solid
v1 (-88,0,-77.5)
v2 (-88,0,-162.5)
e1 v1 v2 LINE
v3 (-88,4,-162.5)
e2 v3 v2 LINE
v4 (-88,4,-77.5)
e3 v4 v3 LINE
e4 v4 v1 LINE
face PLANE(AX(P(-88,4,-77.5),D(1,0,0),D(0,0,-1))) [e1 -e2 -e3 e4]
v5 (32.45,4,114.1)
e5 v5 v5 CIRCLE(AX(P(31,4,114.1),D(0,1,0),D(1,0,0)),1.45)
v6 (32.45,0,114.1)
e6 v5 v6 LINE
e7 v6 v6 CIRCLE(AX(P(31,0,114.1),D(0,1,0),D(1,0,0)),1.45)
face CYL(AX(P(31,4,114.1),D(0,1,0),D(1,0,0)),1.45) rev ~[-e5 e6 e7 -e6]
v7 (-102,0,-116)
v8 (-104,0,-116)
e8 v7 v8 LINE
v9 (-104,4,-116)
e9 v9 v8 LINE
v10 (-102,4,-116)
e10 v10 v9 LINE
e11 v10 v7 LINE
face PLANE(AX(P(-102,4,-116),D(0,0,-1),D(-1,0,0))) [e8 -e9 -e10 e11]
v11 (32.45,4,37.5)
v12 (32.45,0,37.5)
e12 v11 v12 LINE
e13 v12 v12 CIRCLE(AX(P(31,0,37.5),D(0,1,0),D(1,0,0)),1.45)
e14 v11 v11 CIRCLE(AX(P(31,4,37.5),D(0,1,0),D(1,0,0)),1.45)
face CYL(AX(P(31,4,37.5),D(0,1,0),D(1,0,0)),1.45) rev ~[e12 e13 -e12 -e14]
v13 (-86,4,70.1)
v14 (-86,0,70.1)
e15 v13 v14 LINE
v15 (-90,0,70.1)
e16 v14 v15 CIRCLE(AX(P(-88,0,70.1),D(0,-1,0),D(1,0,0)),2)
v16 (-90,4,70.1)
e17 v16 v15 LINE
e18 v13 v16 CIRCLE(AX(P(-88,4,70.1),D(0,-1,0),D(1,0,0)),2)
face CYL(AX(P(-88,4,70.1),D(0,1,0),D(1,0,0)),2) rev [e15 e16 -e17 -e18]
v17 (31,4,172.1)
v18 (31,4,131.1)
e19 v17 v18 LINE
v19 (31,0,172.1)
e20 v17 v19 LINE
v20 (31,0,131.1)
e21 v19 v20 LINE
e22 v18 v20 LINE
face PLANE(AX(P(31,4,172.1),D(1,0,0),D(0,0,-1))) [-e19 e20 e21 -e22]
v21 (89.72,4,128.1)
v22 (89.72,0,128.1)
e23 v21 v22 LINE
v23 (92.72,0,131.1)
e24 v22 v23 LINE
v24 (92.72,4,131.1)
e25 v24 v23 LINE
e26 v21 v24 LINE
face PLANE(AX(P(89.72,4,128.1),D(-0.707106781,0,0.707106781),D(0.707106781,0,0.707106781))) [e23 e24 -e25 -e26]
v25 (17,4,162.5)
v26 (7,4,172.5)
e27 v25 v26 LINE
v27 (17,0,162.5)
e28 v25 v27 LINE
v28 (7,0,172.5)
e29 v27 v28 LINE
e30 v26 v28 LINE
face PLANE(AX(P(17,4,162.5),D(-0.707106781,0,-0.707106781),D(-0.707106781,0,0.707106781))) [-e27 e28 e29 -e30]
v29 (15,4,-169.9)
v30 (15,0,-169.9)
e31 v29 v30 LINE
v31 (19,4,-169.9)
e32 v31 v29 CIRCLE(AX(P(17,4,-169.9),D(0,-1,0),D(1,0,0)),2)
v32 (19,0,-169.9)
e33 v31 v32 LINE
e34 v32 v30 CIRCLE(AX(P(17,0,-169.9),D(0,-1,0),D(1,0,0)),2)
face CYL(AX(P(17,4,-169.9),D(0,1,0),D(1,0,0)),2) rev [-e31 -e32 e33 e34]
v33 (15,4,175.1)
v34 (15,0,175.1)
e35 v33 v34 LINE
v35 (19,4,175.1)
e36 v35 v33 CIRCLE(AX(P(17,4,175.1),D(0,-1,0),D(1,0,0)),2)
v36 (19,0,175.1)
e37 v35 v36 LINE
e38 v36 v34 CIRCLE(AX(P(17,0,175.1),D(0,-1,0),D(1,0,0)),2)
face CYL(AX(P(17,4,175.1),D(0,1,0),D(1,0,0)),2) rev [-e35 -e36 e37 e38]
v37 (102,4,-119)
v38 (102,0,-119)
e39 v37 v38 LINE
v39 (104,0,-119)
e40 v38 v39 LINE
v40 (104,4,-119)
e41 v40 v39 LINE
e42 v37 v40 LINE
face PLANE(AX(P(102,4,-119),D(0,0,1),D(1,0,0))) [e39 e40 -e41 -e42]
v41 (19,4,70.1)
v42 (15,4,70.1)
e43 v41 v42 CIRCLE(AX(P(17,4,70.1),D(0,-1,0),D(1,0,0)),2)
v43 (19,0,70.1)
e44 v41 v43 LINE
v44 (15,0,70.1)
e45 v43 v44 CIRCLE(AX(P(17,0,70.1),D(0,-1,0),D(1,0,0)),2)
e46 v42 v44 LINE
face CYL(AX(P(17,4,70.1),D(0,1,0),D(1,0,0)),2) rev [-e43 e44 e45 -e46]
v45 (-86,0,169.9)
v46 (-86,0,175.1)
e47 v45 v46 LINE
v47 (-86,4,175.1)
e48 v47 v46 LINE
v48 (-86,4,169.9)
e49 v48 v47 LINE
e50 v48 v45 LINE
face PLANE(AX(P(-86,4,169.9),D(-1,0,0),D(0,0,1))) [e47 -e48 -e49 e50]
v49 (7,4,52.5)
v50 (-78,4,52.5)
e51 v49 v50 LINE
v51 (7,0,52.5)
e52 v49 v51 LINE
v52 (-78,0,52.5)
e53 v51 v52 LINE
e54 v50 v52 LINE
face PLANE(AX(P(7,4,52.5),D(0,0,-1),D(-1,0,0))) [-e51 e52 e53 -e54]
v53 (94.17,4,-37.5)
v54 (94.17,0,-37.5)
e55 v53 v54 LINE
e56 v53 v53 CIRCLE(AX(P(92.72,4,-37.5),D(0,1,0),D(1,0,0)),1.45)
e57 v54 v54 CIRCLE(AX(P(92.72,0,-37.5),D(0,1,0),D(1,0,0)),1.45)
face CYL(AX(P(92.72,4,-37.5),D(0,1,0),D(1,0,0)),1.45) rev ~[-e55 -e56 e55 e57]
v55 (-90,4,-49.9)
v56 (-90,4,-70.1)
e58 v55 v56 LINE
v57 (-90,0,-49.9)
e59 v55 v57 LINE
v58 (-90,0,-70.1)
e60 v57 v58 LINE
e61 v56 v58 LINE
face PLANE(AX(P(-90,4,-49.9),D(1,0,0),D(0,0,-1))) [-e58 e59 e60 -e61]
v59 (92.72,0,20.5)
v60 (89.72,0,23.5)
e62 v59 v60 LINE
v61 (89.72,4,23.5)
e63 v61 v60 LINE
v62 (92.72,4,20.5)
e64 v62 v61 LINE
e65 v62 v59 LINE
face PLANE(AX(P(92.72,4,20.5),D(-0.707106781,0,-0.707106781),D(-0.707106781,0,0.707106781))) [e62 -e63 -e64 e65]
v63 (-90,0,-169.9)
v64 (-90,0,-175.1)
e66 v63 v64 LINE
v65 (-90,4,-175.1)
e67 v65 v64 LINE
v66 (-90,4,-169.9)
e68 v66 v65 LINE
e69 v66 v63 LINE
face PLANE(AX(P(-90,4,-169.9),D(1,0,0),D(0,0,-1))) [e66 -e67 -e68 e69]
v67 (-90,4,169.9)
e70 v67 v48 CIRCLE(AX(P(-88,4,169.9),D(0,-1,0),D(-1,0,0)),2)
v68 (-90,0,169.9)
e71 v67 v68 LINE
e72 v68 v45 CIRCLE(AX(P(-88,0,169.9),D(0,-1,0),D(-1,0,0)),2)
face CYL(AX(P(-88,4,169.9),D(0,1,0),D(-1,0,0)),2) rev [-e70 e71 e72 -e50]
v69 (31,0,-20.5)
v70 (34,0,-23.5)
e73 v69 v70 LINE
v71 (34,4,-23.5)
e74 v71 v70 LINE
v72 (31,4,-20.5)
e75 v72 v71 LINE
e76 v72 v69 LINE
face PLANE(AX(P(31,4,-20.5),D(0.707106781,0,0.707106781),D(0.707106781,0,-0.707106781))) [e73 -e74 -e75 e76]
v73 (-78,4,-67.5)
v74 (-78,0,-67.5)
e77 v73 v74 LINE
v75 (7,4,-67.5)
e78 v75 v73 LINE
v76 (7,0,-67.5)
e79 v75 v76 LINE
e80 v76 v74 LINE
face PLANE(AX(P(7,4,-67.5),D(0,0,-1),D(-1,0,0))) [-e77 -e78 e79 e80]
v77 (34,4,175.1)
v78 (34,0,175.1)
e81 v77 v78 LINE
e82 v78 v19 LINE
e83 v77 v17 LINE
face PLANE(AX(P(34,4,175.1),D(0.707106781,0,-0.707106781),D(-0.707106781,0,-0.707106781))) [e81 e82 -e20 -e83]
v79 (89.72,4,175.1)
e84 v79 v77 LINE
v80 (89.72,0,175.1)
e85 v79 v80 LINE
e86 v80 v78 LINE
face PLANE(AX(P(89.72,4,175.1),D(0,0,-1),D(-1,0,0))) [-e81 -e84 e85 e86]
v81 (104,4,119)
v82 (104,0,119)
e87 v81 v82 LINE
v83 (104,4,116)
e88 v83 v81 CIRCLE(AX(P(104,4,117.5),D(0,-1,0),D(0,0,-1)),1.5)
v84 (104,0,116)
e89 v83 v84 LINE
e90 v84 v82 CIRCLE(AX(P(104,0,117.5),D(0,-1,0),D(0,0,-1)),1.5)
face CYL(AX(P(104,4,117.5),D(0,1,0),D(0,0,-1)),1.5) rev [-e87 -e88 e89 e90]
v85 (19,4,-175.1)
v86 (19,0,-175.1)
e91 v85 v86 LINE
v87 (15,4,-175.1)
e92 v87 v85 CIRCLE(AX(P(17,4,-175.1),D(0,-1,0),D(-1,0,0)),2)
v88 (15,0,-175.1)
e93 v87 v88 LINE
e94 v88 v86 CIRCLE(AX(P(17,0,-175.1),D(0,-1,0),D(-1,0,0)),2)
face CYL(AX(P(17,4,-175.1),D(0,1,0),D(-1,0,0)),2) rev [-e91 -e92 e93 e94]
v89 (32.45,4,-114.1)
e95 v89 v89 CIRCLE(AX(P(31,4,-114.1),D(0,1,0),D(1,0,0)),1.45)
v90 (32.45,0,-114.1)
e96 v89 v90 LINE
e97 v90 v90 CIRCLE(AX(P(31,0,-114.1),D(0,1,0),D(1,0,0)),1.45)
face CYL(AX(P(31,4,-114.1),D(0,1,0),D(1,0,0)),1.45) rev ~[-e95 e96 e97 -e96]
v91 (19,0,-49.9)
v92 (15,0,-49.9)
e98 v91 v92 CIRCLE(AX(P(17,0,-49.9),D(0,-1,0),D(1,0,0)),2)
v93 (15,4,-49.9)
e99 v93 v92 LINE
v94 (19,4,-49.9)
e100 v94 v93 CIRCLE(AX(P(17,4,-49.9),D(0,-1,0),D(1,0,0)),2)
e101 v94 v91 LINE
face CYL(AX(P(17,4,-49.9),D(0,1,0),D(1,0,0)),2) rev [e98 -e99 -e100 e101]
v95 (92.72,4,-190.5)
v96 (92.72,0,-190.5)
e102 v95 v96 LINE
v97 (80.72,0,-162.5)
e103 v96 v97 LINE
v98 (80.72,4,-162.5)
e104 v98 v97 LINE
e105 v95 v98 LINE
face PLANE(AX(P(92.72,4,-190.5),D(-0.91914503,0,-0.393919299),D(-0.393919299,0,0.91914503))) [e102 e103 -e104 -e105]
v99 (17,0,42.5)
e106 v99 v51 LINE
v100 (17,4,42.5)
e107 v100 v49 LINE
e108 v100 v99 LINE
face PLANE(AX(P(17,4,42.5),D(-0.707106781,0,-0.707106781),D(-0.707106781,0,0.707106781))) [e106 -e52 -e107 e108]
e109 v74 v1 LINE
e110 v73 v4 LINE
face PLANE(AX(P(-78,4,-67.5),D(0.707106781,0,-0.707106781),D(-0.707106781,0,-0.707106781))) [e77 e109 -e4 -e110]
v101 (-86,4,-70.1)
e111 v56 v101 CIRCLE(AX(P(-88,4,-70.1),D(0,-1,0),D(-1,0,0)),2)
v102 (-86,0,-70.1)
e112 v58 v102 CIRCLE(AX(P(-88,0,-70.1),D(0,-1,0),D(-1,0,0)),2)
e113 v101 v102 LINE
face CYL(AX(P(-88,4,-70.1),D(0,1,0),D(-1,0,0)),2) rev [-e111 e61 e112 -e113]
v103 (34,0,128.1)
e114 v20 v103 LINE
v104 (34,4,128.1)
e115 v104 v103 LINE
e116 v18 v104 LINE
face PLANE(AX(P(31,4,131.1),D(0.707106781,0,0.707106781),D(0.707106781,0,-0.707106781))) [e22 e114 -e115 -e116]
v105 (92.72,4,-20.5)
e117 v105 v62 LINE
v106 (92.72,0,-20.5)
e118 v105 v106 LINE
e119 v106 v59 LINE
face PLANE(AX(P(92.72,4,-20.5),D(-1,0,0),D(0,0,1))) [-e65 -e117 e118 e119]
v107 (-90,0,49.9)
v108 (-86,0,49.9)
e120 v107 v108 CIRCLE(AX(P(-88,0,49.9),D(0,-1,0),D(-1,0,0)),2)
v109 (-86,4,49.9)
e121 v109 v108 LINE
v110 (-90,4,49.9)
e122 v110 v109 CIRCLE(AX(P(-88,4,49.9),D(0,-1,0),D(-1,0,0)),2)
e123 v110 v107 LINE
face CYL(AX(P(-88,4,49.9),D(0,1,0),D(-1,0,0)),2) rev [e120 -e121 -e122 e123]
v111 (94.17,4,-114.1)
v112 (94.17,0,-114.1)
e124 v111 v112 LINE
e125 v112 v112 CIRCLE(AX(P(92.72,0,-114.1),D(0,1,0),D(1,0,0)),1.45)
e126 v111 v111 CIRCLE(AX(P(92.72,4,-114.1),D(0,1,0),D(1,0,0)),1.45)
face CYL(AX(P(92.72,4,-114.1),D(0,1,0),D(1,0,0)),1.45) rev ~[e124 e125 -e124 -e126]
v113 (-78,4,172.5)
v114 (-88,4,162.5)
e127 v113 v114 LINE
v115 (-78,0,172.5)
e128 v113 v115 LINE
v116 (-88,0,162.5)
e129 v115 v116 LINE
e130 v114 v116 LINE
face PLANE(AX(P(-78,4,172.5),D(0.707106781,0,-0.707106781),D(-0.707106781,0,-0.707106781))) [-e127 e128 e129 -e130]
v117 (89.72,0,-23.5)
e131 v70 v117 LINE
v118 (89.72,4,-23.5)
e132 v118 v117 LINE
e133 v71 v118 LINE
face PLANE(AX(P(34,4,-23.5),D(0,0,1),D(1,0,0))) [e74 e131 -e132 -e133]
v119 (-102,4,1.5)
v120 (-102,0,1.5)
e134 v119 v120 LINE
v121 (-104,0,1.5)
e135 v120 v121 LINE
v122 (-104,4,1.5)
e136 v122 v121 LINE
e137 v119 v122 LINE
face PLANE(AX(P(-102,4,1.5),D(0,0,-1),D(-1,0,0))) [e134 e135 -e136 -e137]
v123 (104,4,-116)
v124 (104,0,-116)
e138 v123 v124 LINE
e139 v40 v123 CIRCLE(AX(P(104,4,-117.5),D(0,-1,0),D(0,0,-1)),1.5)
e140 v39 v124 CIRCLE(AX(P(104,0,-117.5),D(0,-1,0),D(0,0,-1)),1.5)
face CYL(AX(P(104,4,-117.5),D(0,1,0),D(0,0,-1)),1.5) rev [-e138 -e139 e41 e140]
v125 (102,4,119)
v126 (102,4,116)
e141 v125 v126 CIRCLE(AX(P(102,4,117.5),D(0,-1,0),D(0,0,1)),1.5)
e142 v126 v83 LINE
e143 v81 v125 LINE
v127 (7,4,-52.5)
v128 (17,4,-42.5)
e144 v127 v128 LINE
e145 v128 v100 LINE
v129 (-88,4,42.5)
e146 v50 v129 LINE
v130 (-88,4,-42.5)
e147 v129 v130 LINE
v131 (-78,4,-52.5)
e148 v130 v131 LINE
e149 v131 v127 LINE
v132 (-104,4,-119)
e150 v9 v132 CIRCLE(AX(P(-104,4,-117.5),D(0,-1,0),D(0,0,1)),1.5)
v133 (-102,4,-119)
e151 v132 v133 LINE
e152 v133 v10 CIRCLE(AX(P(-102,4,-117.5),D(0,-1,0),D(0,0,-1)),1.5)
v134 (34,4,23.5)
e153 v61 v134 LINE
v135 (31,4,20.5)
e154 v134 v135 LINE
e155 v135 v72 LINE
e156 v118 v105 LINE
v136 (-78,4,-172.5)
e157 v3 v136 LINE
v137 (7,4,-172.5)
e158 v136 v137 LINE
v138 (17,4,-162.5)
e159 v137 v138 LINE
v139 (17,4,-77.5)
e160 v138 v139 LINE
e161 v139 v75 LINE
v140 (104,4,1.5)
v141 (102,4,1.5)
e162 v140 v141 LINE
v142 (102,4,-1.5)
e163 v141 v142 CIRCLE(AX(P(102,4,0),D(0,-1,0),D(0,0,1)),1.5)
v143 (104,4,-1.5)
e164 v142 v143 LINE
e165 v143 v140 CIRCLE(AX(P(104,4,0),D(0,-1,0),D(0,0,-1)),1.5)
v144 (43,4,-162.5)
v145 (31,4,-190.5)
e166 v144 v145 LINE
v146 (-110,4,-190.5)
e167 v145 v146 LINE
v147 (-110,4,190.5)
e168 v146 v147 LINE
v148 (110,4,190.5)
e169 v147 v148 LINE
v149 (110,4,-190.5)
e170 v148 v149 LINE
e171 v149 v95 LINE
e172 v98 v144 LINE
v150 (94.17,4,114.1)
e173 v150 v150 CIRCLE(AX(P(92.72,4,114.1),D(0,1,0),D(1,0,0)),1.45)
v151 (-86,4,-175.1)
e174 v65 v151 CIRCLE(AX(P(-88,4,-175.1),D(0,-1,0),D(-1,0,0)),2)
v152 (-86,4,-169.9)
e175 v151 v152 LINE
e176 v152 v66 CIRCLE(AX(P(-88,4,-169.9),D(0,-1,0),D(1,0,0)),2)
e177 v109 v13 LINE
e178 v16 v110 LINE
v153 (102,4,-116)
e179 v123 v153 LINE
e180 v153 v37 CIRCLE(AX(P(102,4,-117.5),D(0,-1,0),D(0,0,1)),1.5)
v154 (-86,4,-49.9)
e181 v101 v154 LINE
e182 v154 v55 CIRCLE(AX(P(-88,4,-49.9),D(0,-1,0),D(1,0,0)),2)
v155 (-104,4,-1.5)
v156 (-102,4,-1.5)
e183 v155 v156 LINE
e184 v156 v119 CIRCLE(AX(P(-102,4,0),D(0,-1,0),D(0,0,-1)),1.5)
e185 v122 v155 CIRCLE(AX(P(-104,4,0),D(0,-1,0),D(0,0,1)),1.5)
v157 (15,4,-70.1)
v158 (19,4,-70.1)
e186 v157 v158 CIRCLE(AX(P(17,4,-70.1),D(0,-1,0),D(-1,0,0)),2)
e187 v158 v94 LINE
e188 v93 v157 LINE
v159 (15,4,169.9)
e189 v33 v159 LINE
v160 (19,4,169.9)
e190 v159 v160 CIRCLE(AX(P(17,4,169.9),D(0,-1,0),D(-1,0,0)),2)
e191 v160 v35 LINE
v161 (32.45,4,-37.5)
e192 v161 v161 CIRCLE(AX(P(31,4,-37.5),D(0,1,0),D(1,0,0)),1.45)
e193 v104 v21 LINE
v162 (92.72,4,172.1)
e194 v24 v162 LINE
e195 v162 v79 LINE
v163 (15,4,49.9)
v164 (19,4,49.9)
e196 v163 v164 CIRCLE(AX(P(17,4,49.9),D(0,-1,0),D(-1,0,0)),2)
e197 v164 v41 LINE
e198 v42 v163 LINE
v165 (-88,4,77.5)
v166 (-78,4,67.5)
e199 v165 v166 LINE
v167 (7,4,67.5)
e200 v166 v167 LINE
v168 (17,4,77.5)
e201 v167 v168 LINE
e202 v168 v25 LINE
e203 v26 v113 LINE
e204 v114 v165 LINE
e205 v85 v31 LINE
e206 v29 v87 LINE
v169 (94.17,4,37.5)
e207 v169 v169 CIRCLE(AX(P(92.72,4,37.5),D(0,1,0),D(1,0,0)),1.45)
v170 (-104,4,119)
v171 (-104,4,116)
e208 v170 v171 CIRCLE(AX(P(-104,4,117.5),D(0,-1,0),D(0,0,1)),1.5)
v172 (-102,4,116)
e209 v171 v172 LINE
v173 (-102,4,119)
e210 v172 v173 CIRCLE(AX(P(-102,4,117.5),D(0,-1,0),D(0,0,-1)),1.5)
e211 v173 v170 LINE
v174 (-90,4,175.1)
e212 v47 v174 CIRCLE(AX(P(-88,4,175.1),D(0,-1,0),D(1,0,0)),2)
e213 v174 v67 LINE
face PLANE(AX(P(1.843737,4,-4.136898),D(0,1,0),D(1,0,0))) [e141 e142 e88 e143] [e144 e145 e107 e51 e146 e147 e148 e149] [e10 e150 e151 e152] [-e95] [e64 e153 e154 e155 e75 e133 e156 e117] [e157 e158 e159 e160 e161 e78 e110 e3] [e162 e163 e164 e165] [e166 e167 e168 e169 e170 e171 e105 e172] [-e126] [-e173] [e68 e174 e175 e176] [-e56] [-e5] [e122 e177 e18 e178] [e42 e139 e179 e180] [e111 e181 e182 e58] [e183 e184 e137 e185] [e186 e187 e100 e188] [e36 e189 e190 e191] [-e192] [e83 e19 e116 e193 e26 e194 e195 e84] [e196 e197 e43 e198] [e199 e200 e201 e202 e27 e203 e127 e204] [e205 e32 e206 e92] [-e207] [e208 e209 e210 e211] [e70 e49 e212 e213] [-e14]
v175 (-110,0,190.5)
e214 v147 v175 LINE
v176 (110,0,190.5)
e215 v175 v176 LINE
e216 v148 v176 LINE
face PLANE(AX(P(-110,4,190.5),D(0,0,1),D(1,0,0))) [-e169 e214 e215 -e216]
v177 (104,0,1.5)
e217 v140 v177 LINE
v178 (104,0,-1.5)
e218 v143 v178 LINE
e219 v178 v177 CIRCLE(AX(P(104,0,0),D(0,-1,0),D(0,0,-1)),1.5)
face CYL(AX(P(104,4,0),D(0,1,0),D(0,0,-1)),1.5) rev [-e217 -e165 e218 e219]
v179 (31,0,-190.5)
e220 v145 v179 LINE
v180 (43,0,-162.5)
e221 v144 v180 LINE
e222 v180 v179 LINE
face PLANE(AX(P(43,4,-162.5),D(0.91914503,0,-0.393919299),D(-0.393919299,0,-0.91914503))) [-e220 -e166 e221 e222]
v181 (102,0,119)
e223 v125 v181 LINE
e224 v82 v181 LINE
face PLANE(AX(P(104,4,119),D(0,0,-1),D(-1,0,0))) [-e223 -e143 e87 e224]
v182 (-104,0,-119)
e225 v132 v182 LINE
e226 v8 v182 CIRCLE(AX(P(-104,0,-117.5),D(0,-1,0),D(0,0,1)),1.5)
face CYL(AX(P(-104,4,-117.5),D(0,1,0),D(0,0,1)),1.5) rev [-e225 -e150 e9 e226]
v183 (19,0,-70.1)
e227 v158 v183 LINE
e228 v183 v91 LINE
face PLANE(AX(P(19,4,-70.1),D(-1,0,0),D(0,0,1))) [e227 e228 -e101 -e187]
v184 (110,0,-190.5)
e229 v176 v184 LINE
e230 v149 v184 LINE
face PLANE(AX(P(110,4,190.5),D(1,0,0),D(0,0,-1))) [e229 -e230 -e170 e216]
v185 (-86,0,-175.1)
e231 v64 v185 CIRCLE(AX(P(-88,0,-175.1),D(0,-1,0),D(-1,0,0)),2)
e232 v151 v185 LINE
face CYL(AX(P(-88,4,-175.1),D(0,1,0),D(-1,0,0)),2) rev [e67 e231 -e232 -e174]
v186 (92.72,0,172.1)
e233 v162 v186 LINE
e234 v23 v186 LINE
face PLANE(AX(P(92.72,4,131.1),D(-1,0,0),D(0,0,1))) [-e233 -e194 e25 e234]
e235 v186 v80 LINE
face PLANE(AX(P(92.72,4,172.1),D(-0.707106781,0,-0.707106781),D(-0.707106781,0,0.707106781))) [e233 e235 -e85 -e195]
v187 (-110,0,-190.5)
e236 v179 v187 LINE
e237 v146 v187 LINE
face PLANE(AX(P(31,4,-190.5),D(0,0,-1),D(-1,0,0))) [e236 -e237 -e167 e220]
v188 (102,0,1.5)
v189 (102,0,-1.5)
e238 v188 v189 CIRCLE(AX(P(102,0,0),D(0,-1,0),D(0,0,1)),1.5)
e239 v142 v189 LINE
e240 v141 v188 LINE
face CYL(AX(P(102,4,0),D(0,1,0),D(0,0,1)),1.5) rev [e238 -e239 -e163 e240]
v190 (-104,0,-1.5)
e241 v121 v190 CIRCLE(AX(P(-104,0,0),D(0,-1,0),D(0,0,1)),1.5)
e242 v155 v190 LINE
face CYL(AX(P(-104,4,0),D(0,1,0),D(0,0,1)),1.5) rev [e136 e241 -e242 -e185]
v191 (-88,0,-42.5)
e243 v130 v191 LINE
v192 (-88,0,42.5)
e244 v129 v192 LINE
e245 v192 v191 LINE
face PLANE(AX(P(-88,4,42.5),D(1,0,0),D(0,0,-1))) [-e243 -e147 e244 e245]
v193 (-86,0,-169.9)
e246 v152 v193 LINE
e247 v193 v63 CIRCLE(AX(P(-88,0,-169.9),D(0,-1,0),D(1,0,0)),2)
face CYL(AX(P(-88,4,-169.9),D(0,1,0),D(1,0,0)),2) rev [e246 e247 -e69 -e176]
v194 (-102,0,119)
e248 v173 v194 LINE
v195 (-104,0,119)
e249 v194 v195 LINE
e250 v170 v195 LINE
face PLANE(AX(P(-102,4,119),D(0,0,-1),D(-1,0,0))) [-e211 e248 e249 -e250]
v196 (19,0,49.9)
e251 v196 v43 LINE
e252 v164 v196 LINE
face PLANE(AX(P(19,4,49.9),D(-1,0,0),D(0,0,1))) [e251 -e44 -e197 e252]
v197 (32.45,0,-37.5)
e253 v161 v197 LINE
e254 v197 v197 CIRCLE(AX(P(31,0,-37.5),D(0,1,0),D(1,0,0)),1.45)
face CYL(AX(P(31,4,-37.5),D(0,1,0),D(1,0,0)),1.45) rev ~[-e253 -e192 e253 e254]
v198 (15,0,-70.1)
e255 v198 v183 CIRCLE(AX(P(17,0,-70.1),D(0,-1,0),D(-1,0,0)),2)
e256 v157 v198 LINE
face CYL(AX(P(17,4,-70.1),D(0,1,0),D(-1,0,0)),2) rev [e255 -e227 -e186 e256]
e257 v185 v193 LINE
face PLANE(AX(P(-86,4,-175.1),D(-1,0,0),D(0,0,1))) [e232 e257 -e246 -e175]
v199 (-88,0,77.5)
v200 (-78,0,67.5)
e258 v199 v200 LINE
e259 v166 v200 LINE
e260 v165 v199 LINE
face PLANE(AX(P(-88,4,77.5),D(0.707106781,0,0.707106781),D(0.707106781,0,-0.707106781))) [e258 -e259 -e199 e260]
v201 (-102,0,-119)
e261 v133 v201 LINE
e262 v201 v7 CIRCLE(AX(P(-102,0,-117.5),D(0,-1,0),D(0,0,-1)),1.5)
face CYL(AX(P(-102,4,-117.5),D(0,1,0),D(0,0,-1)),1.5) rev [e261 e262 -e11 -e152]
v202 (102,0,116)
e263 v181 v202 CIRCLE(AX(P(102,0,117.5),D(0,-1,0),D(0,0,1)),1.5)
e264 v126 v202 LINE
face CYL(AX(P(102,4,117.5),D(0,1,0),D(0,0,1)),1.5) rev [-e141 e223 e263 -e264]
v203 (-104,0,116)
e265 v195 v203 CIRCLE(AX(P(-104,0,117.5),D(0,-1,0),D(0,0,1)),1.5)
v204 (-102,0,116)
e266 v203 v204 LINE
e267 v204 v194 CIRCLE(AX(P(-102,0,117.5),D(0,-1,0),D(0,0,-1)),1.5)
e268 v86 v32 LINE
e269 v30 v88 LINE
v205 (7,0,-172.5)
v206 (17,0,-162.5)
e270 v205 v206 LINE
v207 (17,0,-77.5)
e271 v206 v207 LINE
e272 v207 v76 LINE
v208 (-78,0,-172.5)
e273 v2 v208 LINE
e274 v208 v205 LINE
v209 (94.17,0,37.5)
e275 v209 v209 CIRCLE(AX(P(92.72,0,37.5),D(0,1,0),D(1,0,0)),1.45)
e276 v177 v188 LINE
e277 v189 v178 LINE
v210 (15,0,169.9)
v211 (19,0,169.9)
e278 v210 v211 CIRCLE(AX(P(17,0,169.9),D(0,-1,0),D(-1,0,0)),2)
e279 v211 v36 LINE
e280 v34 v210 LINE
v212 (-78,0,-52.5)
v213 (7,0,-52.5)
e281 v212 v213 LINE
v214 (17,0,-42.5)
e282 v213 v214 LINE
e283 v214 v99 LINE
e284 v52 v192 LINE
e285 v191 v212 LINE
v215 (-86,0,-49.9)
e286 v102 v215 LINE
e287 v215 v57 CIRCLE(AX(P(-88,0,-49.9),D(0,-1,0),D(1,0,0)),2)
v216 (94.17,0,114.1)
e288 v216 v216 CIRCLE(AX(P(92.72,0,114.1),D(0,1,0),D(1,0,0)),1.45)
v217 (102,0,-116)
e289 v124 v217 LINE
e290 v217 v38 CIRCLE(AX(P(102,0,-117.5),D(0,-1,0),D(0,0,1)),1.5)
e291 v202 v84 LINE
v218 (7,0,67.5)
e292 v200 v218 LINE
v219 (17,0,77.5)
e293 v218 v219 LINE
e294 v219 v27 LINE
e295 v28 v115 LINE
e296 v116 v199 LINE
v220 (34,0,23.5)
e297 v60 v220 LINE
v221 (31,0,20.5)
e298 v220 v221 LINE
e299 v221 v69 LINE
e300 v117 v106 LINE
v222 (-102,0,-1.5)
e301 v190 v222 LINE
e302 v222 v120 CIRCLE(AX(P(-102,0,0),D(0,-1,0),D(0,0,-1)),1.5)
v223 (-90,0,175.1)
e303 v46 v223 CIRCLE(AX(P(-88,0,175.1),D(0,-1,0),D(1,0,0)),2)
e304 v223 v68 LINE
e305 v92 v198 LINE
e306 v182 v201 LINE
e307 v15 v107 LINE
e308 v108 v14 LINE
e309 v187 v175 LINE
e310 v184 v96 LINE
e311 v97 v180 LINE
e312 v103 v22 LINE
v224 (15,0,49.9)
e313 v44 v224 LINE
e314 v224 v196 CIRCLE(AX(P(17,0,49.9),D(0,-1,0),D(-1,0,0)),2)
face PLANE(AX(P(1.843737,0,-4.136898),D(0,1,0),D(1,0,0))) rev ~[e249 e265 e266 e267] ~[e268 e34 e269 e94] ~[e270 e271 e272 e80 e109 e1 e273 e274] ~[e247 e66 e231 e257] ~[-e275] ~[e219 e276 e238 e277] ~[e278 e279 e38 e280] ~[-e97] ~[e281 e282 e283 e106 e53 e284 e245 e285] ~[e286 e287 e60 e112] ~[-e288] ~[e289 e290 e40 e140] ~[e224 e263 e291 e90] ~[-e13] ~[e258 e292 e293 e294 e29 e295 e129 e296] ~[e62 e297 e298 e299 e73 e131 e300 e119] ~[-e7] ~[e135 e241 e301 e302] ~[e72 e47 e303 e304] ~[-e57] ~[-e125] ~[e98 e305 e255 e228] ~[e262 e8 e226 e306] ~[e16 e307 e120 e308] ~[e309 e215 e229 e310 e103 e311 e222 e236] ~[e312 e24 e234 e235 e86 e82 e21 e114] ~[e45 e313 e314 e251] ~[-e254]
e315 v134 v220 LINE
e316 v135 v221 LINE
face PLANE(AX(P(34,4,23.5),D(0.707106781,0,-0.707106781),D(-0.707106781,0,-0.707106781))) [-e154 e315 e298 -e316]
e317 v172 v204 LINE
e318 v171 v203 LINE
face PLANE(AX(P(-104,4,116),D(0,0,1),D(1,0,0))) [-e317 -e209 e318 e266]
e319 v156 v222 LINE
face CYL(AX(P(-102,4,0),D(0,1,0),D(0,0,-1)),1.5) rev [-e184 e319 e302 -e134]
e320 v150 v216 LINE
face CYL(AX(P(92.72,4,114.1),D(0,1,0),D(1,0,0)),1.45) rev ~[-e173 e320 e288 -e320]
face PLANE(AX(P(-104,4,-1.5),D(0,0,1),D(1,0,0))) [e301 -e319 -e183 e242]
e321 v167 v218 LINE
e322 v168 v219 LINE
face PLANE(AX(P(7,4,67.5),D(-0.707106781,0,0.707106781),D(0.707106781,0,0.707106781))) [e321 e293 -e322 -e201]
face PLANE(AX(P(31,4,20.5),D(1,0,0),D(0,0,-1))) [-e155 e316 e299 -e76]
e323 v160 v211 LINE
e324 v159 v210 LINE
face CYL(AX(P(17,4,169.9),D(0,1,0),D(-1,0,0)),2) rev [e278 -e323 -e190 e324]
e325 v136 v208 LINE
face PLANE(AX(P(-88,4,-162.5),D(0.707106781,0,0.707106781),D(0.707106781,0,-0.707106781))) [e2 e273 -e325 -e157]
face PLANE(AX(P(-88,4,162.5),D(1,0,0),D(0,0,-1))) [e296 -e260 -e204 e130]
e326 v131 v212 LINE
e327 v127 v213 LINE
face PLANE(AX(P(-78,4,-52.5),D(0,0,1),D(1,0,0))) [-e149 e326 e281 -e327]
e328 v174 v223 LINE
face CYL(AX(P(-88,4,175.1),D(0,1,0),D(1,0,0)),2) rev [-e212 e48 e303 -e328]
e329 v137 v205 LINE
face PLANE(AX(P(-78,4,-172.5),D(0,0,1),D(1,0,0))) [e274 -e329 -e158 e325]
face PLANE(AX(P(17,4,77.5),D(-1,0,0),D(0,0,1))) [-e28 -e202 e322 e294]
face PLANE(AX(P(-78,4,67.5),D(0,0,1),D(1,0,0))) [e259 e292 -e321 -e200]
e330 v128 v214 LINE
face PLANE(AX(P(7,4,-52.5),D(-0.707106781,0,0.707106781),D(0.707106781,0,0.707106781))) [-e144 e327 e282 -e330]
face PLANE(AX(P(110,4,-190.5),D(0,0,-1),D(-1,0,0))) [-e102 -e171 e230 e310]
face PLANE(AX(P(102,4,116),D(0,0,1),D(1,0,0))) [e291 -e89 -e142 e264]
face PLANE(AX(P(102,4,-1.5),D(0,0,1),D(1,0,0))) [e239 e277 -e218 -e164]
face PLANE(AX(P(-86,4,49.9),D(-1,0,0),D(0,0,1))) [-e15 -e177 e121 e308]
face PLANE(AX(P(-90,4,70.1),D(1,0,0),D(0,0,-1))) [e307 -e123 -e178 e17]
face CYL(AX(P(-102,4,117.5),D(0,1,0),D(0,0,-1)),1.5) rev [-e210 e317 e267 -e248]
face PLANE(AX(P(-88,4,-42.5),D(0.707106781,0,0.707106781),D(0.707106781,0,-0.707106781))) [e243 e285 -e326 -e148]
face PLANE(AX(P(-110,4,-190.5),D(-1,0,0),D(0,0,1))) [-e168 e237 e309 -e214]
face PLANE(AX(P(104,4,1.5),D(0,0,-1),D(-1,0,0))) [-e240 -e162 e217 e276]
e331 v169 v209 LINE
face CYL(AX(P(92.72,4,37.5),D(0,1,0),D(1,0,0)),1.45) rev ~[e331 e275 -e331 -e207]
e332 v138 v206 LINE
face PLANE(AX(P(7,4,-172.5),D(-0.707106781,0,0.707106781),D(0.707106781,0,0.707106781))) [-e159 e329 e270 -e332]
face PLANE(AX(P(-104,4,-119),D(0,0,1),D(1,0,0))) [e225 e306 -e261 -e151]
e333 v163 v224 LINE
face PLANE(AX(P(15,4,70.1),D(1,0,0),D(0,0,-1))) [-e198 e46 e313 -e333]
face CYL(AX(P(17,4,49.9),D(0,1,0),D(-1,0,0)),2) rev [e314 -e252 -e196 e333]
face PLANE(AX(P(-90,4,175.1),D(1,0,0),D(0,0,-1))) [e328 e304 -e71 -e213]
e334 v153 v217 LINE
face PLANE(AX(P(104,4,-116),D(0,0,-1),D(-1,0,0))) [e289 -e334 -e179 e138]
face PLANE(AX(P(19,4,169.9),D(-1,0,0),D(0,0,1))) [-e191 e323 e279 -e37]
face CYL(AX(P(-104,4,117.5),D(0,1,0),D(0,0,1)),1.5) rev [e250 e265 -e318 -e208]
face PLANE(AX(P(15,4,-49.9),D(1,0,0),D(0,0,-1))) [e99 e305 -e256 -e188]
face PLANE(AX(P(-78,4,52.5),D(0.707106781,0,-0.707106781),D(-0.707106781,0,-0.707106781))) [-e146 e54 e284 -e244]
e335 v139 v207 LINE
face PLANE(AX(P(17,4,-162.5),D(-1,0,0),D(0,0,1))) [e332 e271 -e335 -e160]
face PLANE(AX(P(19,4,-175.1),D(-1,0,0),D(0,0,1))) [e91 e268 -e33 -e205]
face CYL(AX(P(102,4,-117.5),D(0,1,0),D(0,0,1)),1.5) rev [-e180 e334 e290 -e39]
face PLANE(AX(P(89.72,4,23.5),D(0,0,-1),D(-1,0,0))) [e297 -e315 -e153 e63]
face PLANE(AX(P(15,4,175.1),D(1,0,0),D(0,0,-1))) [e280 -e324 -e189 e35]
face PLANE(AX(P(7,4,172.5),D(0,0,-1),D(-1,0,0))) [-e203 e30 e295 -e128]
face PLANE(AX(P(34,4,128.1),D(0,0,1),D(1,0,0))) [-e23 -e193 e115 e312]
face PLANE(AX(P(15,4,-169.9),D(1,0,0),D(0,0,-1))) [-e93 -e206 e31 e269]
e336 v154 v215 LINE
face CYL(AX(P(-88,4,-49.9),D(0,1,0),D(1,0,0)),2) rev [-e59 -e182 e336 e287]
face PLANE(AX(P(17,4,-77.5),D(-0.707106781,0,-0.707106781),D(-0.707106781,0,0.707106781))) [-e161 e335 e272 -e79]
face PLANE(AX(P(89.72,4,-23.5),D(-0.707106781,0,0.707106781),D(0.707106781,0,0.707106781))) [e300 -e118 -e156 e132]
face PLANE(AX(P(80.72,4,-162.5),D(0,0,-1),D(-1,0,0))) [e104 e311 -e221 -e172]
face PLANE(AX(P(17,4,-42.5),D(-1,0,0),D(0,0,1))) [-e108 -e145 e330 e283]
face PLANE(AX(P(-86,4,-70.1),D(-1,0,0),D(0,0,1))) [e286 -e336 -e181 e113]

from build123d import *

# Parameters (mm, degrees)
SKETCH_1_R      = 1.45
EXTRUDE_1_DEPTH = 4


with BuildPart() as part:
    # 草圖1 → 填料-伸長1 (new body)
    with BuildSketch(Plane(origin=(0, 4, 0), x_dir=(1, 0, 0), z_dir=(0, 1, 0))):
        Polygon((110, 190.5), (92.72, 190.5), (80.72, 162.5), (43, 162.5), (31, 190.5), (-110, 190.5), (-110, -190.5), (110, -190.5), align=None)
        with Locations((31, 114.1)):
            Circle(SKETCH_1_R, mode=Mode.SUBTRACT)
        with Locations((92.72, 114.1)):
            Circle(SKETCH_1_R, mode=Mode.SUBTRACT)
        with Locations((31, 37.5)):
            Circle(SKETCH_1_R, mode=Mode.SUBTRACT)
        with Locations((92.72, 37.5)):
            Circle(SKETCH_1_R, mode=Mode.SUBTRACT)
        with Locations((31, -37.5)):
            Circle(SKETCH_1_R, mode=Mode.SUBTRACT)
        with Locations((92.72, -37.5)):
            Circle(SKETCH_1_R, mode=Mode.SUBTRACT)
        with Locations((31, -114.1)):
            Circle(SKETCH_1_R, mode=Mode.SUBTRACT)
        with Locations((92.72, -114.1)):
            Circle(SKETCH_1_R, mode=Mode.SUBTRACT)
        with BuildLine():
            Line((-104, 1.5), (-102, 1.5))
            ThreePointArc((-102, 1.5), (-100.5, 0), (-102, -1.5))
            Line((-102, -1.5), (-104, -1.5))
            ThreePointArc((-104, -1.5), (-105.5, 0), (-104, 1.5))
        make_face(mode=Mode.SUBTRACT)
        with BuildLine():
            Line((102, -116), (104, -116))
            ThreePointArc((104, -116), (105.5, -117.5), (104, -119))
            Line((104, -119), (102, -119))
            ThreePointArc((102, -119), (100.5, -117.5), (102, -116))
        make_face(mode=Mode.SUBTRACT)
        with BuildLine():
            Line((102, 1.5), (104, 1.5))
            ThreePointArc((104, 1.5), (105.5, 0), (104, -1.5))
            Line((104, -1.5), (102, -1.5))
            ThreePointArc((102, -1.5), (100.5, 0), (102, 1.5))
        make_face(mode=Mode.SUBTRACT)
        with BuildLine():
            Line((102, 119), (104, 119))
            ThreePointArc((104, 119), (105.5, 117.5), (104, 116))
            Line((104, 116), (102, 116))
            ThreePointArc((102, 116), (100.5, 117.5), (102, 119))
        make_face(mode=Mode.SUBTRACT)
        with BuildLine():
            Line((-104, -116), (-102, -116))
            ThreePointArc((-102, -116), (-100.5, -117.5), (-102, -119))
            Line((-102, -119), (-104, -119))
            ThreePointArc((-104, -119), (-105.5, -117.5), (-104, -116))
        make_face(mode=Mode.SUBTRACT)
        with BuildLine():
            Line((-104, 119), (-102, 119))
            ThreePointArc((-102, 119), (-100.5, 117.5), (-102, 116))
            Line((-102, 116), (-104, 116))
            ThreePointArc((-104, 116), (-105.5, 117.5), (-104, 119))
        make_face(mode=Mode.SUBTRACT)
        with BuildLine():
            Line((-90, -175.1), (-90, -169.9))
            ThreePointArc((-90, -169.9), (-88, -167.9), (-86, -169.9))
            Line((-86, -169.9), (-86, -175.1))
            ThreePointArc((-86, -175.1), (-88, -177.1), (-90, -175.1))
        make_face(mode=Mode.SUBTRACT)
        with BuildLine():
            Line((15, -70.1), (15, -49.9))
            ThreePointArc((15, -49.9), (17, -47.9), (19, -49.9))
            Line((19, -49.9), (19, -70.1))
            ThreePointArc((19, -70.1), (17, -72.1), (15, -70.1))
        make_face(mode=Mode.SUBTRACT)
        with BuildLine():
            Line((-90, -70.1), (-90, -49.9))
            ThreePointArc((-90, -49.9), (-88, -47.9), (-86, -49.9))
            Line((-86, -49.9), (-86, -70.1))
            ThreePointArc((-86, -70.1), (-88, -72.1), (-90, -70.1))
        make_face(mode=Mode.SUBTRACT)
        with BuildLine():
            Line((19, 175.1), (19, 169.9))
            ThreePointArc((19, 169.9), (17, 167.9), (15, 169.9))
            Line((15, 169.9), (15, 175.1))
            ThreePointArc((15, 175.1), (17, 177.1), (19, 175.1))
        make_face(mode=Mode.SUBTRACT)
        Polygon((89.72, -23.5), (34, -23.5), (31, -20.5), (31, 20.5), (34, 23.5), (89.72, 23.5), (92.72, 20.5), (92.72, -20.5), align=None, mode=Mode.SUBTRACT)
        Polygon((89.72, -175.1), (34, -175.1), (31, -172.1), (31, -131.1), (34, -128.1), (89.72, -128.1), (92.72, -131.1), (92.72, -172.1), align=None, mode=Mode.SUBTRACT)
        Polygon((-78, -172.5), (-88, -162.5), (-88, -77.5), (-78, -67.5), (7, -67.5), (17, -77.5), (17, -162.5), (7, -172.5), align=None, mode=Mode.SUBTRACT)
        Polygon((-78, -52.5), (-88, -42.5), (-88, 42.5), (-78, 52.5), (7, 52.5), (17, 42.5), (17, -42.5), (7, -52.5), align=None, mode=Mode.SUBTRACT)
        with BuildLine():
            Line((-86, 70.1), (-86, 49.9))
            ThreePointArc((-86, 49.9), (-88, 47.9), (-90, 49.9))
            Line((-90, 49.9), (-90, 70.1))
            ThreePointArc((-90, 70.1), (-88, 72.1), (-86, 70.1))
        make_face(mode=Mode.SUBTRACT)
        with BuildLine():
            Line((19, 70.1), (19, 49.9))
            ThreePointArc((19, 49.9), (17, 47.9), (15, 49.9))
            Line((15, 49.9), (15, 70.1))
            ThreePointArc((15, 70.1), (17, 72.1), (19, 70.1))
        make_face(mode=Mode.SUBTRACT)
        with BuildLine():
            Line((19, -169.9), (19, -175.1))
            ThreePointArc((19, -175.1), (17, -177.1), (15, -175.1))
            Line((15, -175.1), (15, -169.9))
            ThreePointArc((15, -169.9), (17, -167.9), (19, -169.9))
        make_face(mode=Mode.SUBTRACT)
        with BuildLine():
            Line((-86, 175.1), (-86, 169.9))
            ThreePointArc((-86, 169.9), (-88, 167.9), (-90, 169.9))
            Line((-90, 169.9), (-90, 175.1))
            ThreePointArc((-90, 175.1), (-88, 177.1), (-86, 175.1))
        make_face(mode=Mode.SUBTRACT)
        Polygon((17, 162.5), (17, 77.5), (7, 67.5), (-78, 67.5), (-88, 77.5), (-88, 162.5), (-78, 172.5), (7, 172.5), align=None, mode=Mode.SUBTRACT)
    extrude(amount=-EXTRUDE_1_DEPTH)


solid = part.part
